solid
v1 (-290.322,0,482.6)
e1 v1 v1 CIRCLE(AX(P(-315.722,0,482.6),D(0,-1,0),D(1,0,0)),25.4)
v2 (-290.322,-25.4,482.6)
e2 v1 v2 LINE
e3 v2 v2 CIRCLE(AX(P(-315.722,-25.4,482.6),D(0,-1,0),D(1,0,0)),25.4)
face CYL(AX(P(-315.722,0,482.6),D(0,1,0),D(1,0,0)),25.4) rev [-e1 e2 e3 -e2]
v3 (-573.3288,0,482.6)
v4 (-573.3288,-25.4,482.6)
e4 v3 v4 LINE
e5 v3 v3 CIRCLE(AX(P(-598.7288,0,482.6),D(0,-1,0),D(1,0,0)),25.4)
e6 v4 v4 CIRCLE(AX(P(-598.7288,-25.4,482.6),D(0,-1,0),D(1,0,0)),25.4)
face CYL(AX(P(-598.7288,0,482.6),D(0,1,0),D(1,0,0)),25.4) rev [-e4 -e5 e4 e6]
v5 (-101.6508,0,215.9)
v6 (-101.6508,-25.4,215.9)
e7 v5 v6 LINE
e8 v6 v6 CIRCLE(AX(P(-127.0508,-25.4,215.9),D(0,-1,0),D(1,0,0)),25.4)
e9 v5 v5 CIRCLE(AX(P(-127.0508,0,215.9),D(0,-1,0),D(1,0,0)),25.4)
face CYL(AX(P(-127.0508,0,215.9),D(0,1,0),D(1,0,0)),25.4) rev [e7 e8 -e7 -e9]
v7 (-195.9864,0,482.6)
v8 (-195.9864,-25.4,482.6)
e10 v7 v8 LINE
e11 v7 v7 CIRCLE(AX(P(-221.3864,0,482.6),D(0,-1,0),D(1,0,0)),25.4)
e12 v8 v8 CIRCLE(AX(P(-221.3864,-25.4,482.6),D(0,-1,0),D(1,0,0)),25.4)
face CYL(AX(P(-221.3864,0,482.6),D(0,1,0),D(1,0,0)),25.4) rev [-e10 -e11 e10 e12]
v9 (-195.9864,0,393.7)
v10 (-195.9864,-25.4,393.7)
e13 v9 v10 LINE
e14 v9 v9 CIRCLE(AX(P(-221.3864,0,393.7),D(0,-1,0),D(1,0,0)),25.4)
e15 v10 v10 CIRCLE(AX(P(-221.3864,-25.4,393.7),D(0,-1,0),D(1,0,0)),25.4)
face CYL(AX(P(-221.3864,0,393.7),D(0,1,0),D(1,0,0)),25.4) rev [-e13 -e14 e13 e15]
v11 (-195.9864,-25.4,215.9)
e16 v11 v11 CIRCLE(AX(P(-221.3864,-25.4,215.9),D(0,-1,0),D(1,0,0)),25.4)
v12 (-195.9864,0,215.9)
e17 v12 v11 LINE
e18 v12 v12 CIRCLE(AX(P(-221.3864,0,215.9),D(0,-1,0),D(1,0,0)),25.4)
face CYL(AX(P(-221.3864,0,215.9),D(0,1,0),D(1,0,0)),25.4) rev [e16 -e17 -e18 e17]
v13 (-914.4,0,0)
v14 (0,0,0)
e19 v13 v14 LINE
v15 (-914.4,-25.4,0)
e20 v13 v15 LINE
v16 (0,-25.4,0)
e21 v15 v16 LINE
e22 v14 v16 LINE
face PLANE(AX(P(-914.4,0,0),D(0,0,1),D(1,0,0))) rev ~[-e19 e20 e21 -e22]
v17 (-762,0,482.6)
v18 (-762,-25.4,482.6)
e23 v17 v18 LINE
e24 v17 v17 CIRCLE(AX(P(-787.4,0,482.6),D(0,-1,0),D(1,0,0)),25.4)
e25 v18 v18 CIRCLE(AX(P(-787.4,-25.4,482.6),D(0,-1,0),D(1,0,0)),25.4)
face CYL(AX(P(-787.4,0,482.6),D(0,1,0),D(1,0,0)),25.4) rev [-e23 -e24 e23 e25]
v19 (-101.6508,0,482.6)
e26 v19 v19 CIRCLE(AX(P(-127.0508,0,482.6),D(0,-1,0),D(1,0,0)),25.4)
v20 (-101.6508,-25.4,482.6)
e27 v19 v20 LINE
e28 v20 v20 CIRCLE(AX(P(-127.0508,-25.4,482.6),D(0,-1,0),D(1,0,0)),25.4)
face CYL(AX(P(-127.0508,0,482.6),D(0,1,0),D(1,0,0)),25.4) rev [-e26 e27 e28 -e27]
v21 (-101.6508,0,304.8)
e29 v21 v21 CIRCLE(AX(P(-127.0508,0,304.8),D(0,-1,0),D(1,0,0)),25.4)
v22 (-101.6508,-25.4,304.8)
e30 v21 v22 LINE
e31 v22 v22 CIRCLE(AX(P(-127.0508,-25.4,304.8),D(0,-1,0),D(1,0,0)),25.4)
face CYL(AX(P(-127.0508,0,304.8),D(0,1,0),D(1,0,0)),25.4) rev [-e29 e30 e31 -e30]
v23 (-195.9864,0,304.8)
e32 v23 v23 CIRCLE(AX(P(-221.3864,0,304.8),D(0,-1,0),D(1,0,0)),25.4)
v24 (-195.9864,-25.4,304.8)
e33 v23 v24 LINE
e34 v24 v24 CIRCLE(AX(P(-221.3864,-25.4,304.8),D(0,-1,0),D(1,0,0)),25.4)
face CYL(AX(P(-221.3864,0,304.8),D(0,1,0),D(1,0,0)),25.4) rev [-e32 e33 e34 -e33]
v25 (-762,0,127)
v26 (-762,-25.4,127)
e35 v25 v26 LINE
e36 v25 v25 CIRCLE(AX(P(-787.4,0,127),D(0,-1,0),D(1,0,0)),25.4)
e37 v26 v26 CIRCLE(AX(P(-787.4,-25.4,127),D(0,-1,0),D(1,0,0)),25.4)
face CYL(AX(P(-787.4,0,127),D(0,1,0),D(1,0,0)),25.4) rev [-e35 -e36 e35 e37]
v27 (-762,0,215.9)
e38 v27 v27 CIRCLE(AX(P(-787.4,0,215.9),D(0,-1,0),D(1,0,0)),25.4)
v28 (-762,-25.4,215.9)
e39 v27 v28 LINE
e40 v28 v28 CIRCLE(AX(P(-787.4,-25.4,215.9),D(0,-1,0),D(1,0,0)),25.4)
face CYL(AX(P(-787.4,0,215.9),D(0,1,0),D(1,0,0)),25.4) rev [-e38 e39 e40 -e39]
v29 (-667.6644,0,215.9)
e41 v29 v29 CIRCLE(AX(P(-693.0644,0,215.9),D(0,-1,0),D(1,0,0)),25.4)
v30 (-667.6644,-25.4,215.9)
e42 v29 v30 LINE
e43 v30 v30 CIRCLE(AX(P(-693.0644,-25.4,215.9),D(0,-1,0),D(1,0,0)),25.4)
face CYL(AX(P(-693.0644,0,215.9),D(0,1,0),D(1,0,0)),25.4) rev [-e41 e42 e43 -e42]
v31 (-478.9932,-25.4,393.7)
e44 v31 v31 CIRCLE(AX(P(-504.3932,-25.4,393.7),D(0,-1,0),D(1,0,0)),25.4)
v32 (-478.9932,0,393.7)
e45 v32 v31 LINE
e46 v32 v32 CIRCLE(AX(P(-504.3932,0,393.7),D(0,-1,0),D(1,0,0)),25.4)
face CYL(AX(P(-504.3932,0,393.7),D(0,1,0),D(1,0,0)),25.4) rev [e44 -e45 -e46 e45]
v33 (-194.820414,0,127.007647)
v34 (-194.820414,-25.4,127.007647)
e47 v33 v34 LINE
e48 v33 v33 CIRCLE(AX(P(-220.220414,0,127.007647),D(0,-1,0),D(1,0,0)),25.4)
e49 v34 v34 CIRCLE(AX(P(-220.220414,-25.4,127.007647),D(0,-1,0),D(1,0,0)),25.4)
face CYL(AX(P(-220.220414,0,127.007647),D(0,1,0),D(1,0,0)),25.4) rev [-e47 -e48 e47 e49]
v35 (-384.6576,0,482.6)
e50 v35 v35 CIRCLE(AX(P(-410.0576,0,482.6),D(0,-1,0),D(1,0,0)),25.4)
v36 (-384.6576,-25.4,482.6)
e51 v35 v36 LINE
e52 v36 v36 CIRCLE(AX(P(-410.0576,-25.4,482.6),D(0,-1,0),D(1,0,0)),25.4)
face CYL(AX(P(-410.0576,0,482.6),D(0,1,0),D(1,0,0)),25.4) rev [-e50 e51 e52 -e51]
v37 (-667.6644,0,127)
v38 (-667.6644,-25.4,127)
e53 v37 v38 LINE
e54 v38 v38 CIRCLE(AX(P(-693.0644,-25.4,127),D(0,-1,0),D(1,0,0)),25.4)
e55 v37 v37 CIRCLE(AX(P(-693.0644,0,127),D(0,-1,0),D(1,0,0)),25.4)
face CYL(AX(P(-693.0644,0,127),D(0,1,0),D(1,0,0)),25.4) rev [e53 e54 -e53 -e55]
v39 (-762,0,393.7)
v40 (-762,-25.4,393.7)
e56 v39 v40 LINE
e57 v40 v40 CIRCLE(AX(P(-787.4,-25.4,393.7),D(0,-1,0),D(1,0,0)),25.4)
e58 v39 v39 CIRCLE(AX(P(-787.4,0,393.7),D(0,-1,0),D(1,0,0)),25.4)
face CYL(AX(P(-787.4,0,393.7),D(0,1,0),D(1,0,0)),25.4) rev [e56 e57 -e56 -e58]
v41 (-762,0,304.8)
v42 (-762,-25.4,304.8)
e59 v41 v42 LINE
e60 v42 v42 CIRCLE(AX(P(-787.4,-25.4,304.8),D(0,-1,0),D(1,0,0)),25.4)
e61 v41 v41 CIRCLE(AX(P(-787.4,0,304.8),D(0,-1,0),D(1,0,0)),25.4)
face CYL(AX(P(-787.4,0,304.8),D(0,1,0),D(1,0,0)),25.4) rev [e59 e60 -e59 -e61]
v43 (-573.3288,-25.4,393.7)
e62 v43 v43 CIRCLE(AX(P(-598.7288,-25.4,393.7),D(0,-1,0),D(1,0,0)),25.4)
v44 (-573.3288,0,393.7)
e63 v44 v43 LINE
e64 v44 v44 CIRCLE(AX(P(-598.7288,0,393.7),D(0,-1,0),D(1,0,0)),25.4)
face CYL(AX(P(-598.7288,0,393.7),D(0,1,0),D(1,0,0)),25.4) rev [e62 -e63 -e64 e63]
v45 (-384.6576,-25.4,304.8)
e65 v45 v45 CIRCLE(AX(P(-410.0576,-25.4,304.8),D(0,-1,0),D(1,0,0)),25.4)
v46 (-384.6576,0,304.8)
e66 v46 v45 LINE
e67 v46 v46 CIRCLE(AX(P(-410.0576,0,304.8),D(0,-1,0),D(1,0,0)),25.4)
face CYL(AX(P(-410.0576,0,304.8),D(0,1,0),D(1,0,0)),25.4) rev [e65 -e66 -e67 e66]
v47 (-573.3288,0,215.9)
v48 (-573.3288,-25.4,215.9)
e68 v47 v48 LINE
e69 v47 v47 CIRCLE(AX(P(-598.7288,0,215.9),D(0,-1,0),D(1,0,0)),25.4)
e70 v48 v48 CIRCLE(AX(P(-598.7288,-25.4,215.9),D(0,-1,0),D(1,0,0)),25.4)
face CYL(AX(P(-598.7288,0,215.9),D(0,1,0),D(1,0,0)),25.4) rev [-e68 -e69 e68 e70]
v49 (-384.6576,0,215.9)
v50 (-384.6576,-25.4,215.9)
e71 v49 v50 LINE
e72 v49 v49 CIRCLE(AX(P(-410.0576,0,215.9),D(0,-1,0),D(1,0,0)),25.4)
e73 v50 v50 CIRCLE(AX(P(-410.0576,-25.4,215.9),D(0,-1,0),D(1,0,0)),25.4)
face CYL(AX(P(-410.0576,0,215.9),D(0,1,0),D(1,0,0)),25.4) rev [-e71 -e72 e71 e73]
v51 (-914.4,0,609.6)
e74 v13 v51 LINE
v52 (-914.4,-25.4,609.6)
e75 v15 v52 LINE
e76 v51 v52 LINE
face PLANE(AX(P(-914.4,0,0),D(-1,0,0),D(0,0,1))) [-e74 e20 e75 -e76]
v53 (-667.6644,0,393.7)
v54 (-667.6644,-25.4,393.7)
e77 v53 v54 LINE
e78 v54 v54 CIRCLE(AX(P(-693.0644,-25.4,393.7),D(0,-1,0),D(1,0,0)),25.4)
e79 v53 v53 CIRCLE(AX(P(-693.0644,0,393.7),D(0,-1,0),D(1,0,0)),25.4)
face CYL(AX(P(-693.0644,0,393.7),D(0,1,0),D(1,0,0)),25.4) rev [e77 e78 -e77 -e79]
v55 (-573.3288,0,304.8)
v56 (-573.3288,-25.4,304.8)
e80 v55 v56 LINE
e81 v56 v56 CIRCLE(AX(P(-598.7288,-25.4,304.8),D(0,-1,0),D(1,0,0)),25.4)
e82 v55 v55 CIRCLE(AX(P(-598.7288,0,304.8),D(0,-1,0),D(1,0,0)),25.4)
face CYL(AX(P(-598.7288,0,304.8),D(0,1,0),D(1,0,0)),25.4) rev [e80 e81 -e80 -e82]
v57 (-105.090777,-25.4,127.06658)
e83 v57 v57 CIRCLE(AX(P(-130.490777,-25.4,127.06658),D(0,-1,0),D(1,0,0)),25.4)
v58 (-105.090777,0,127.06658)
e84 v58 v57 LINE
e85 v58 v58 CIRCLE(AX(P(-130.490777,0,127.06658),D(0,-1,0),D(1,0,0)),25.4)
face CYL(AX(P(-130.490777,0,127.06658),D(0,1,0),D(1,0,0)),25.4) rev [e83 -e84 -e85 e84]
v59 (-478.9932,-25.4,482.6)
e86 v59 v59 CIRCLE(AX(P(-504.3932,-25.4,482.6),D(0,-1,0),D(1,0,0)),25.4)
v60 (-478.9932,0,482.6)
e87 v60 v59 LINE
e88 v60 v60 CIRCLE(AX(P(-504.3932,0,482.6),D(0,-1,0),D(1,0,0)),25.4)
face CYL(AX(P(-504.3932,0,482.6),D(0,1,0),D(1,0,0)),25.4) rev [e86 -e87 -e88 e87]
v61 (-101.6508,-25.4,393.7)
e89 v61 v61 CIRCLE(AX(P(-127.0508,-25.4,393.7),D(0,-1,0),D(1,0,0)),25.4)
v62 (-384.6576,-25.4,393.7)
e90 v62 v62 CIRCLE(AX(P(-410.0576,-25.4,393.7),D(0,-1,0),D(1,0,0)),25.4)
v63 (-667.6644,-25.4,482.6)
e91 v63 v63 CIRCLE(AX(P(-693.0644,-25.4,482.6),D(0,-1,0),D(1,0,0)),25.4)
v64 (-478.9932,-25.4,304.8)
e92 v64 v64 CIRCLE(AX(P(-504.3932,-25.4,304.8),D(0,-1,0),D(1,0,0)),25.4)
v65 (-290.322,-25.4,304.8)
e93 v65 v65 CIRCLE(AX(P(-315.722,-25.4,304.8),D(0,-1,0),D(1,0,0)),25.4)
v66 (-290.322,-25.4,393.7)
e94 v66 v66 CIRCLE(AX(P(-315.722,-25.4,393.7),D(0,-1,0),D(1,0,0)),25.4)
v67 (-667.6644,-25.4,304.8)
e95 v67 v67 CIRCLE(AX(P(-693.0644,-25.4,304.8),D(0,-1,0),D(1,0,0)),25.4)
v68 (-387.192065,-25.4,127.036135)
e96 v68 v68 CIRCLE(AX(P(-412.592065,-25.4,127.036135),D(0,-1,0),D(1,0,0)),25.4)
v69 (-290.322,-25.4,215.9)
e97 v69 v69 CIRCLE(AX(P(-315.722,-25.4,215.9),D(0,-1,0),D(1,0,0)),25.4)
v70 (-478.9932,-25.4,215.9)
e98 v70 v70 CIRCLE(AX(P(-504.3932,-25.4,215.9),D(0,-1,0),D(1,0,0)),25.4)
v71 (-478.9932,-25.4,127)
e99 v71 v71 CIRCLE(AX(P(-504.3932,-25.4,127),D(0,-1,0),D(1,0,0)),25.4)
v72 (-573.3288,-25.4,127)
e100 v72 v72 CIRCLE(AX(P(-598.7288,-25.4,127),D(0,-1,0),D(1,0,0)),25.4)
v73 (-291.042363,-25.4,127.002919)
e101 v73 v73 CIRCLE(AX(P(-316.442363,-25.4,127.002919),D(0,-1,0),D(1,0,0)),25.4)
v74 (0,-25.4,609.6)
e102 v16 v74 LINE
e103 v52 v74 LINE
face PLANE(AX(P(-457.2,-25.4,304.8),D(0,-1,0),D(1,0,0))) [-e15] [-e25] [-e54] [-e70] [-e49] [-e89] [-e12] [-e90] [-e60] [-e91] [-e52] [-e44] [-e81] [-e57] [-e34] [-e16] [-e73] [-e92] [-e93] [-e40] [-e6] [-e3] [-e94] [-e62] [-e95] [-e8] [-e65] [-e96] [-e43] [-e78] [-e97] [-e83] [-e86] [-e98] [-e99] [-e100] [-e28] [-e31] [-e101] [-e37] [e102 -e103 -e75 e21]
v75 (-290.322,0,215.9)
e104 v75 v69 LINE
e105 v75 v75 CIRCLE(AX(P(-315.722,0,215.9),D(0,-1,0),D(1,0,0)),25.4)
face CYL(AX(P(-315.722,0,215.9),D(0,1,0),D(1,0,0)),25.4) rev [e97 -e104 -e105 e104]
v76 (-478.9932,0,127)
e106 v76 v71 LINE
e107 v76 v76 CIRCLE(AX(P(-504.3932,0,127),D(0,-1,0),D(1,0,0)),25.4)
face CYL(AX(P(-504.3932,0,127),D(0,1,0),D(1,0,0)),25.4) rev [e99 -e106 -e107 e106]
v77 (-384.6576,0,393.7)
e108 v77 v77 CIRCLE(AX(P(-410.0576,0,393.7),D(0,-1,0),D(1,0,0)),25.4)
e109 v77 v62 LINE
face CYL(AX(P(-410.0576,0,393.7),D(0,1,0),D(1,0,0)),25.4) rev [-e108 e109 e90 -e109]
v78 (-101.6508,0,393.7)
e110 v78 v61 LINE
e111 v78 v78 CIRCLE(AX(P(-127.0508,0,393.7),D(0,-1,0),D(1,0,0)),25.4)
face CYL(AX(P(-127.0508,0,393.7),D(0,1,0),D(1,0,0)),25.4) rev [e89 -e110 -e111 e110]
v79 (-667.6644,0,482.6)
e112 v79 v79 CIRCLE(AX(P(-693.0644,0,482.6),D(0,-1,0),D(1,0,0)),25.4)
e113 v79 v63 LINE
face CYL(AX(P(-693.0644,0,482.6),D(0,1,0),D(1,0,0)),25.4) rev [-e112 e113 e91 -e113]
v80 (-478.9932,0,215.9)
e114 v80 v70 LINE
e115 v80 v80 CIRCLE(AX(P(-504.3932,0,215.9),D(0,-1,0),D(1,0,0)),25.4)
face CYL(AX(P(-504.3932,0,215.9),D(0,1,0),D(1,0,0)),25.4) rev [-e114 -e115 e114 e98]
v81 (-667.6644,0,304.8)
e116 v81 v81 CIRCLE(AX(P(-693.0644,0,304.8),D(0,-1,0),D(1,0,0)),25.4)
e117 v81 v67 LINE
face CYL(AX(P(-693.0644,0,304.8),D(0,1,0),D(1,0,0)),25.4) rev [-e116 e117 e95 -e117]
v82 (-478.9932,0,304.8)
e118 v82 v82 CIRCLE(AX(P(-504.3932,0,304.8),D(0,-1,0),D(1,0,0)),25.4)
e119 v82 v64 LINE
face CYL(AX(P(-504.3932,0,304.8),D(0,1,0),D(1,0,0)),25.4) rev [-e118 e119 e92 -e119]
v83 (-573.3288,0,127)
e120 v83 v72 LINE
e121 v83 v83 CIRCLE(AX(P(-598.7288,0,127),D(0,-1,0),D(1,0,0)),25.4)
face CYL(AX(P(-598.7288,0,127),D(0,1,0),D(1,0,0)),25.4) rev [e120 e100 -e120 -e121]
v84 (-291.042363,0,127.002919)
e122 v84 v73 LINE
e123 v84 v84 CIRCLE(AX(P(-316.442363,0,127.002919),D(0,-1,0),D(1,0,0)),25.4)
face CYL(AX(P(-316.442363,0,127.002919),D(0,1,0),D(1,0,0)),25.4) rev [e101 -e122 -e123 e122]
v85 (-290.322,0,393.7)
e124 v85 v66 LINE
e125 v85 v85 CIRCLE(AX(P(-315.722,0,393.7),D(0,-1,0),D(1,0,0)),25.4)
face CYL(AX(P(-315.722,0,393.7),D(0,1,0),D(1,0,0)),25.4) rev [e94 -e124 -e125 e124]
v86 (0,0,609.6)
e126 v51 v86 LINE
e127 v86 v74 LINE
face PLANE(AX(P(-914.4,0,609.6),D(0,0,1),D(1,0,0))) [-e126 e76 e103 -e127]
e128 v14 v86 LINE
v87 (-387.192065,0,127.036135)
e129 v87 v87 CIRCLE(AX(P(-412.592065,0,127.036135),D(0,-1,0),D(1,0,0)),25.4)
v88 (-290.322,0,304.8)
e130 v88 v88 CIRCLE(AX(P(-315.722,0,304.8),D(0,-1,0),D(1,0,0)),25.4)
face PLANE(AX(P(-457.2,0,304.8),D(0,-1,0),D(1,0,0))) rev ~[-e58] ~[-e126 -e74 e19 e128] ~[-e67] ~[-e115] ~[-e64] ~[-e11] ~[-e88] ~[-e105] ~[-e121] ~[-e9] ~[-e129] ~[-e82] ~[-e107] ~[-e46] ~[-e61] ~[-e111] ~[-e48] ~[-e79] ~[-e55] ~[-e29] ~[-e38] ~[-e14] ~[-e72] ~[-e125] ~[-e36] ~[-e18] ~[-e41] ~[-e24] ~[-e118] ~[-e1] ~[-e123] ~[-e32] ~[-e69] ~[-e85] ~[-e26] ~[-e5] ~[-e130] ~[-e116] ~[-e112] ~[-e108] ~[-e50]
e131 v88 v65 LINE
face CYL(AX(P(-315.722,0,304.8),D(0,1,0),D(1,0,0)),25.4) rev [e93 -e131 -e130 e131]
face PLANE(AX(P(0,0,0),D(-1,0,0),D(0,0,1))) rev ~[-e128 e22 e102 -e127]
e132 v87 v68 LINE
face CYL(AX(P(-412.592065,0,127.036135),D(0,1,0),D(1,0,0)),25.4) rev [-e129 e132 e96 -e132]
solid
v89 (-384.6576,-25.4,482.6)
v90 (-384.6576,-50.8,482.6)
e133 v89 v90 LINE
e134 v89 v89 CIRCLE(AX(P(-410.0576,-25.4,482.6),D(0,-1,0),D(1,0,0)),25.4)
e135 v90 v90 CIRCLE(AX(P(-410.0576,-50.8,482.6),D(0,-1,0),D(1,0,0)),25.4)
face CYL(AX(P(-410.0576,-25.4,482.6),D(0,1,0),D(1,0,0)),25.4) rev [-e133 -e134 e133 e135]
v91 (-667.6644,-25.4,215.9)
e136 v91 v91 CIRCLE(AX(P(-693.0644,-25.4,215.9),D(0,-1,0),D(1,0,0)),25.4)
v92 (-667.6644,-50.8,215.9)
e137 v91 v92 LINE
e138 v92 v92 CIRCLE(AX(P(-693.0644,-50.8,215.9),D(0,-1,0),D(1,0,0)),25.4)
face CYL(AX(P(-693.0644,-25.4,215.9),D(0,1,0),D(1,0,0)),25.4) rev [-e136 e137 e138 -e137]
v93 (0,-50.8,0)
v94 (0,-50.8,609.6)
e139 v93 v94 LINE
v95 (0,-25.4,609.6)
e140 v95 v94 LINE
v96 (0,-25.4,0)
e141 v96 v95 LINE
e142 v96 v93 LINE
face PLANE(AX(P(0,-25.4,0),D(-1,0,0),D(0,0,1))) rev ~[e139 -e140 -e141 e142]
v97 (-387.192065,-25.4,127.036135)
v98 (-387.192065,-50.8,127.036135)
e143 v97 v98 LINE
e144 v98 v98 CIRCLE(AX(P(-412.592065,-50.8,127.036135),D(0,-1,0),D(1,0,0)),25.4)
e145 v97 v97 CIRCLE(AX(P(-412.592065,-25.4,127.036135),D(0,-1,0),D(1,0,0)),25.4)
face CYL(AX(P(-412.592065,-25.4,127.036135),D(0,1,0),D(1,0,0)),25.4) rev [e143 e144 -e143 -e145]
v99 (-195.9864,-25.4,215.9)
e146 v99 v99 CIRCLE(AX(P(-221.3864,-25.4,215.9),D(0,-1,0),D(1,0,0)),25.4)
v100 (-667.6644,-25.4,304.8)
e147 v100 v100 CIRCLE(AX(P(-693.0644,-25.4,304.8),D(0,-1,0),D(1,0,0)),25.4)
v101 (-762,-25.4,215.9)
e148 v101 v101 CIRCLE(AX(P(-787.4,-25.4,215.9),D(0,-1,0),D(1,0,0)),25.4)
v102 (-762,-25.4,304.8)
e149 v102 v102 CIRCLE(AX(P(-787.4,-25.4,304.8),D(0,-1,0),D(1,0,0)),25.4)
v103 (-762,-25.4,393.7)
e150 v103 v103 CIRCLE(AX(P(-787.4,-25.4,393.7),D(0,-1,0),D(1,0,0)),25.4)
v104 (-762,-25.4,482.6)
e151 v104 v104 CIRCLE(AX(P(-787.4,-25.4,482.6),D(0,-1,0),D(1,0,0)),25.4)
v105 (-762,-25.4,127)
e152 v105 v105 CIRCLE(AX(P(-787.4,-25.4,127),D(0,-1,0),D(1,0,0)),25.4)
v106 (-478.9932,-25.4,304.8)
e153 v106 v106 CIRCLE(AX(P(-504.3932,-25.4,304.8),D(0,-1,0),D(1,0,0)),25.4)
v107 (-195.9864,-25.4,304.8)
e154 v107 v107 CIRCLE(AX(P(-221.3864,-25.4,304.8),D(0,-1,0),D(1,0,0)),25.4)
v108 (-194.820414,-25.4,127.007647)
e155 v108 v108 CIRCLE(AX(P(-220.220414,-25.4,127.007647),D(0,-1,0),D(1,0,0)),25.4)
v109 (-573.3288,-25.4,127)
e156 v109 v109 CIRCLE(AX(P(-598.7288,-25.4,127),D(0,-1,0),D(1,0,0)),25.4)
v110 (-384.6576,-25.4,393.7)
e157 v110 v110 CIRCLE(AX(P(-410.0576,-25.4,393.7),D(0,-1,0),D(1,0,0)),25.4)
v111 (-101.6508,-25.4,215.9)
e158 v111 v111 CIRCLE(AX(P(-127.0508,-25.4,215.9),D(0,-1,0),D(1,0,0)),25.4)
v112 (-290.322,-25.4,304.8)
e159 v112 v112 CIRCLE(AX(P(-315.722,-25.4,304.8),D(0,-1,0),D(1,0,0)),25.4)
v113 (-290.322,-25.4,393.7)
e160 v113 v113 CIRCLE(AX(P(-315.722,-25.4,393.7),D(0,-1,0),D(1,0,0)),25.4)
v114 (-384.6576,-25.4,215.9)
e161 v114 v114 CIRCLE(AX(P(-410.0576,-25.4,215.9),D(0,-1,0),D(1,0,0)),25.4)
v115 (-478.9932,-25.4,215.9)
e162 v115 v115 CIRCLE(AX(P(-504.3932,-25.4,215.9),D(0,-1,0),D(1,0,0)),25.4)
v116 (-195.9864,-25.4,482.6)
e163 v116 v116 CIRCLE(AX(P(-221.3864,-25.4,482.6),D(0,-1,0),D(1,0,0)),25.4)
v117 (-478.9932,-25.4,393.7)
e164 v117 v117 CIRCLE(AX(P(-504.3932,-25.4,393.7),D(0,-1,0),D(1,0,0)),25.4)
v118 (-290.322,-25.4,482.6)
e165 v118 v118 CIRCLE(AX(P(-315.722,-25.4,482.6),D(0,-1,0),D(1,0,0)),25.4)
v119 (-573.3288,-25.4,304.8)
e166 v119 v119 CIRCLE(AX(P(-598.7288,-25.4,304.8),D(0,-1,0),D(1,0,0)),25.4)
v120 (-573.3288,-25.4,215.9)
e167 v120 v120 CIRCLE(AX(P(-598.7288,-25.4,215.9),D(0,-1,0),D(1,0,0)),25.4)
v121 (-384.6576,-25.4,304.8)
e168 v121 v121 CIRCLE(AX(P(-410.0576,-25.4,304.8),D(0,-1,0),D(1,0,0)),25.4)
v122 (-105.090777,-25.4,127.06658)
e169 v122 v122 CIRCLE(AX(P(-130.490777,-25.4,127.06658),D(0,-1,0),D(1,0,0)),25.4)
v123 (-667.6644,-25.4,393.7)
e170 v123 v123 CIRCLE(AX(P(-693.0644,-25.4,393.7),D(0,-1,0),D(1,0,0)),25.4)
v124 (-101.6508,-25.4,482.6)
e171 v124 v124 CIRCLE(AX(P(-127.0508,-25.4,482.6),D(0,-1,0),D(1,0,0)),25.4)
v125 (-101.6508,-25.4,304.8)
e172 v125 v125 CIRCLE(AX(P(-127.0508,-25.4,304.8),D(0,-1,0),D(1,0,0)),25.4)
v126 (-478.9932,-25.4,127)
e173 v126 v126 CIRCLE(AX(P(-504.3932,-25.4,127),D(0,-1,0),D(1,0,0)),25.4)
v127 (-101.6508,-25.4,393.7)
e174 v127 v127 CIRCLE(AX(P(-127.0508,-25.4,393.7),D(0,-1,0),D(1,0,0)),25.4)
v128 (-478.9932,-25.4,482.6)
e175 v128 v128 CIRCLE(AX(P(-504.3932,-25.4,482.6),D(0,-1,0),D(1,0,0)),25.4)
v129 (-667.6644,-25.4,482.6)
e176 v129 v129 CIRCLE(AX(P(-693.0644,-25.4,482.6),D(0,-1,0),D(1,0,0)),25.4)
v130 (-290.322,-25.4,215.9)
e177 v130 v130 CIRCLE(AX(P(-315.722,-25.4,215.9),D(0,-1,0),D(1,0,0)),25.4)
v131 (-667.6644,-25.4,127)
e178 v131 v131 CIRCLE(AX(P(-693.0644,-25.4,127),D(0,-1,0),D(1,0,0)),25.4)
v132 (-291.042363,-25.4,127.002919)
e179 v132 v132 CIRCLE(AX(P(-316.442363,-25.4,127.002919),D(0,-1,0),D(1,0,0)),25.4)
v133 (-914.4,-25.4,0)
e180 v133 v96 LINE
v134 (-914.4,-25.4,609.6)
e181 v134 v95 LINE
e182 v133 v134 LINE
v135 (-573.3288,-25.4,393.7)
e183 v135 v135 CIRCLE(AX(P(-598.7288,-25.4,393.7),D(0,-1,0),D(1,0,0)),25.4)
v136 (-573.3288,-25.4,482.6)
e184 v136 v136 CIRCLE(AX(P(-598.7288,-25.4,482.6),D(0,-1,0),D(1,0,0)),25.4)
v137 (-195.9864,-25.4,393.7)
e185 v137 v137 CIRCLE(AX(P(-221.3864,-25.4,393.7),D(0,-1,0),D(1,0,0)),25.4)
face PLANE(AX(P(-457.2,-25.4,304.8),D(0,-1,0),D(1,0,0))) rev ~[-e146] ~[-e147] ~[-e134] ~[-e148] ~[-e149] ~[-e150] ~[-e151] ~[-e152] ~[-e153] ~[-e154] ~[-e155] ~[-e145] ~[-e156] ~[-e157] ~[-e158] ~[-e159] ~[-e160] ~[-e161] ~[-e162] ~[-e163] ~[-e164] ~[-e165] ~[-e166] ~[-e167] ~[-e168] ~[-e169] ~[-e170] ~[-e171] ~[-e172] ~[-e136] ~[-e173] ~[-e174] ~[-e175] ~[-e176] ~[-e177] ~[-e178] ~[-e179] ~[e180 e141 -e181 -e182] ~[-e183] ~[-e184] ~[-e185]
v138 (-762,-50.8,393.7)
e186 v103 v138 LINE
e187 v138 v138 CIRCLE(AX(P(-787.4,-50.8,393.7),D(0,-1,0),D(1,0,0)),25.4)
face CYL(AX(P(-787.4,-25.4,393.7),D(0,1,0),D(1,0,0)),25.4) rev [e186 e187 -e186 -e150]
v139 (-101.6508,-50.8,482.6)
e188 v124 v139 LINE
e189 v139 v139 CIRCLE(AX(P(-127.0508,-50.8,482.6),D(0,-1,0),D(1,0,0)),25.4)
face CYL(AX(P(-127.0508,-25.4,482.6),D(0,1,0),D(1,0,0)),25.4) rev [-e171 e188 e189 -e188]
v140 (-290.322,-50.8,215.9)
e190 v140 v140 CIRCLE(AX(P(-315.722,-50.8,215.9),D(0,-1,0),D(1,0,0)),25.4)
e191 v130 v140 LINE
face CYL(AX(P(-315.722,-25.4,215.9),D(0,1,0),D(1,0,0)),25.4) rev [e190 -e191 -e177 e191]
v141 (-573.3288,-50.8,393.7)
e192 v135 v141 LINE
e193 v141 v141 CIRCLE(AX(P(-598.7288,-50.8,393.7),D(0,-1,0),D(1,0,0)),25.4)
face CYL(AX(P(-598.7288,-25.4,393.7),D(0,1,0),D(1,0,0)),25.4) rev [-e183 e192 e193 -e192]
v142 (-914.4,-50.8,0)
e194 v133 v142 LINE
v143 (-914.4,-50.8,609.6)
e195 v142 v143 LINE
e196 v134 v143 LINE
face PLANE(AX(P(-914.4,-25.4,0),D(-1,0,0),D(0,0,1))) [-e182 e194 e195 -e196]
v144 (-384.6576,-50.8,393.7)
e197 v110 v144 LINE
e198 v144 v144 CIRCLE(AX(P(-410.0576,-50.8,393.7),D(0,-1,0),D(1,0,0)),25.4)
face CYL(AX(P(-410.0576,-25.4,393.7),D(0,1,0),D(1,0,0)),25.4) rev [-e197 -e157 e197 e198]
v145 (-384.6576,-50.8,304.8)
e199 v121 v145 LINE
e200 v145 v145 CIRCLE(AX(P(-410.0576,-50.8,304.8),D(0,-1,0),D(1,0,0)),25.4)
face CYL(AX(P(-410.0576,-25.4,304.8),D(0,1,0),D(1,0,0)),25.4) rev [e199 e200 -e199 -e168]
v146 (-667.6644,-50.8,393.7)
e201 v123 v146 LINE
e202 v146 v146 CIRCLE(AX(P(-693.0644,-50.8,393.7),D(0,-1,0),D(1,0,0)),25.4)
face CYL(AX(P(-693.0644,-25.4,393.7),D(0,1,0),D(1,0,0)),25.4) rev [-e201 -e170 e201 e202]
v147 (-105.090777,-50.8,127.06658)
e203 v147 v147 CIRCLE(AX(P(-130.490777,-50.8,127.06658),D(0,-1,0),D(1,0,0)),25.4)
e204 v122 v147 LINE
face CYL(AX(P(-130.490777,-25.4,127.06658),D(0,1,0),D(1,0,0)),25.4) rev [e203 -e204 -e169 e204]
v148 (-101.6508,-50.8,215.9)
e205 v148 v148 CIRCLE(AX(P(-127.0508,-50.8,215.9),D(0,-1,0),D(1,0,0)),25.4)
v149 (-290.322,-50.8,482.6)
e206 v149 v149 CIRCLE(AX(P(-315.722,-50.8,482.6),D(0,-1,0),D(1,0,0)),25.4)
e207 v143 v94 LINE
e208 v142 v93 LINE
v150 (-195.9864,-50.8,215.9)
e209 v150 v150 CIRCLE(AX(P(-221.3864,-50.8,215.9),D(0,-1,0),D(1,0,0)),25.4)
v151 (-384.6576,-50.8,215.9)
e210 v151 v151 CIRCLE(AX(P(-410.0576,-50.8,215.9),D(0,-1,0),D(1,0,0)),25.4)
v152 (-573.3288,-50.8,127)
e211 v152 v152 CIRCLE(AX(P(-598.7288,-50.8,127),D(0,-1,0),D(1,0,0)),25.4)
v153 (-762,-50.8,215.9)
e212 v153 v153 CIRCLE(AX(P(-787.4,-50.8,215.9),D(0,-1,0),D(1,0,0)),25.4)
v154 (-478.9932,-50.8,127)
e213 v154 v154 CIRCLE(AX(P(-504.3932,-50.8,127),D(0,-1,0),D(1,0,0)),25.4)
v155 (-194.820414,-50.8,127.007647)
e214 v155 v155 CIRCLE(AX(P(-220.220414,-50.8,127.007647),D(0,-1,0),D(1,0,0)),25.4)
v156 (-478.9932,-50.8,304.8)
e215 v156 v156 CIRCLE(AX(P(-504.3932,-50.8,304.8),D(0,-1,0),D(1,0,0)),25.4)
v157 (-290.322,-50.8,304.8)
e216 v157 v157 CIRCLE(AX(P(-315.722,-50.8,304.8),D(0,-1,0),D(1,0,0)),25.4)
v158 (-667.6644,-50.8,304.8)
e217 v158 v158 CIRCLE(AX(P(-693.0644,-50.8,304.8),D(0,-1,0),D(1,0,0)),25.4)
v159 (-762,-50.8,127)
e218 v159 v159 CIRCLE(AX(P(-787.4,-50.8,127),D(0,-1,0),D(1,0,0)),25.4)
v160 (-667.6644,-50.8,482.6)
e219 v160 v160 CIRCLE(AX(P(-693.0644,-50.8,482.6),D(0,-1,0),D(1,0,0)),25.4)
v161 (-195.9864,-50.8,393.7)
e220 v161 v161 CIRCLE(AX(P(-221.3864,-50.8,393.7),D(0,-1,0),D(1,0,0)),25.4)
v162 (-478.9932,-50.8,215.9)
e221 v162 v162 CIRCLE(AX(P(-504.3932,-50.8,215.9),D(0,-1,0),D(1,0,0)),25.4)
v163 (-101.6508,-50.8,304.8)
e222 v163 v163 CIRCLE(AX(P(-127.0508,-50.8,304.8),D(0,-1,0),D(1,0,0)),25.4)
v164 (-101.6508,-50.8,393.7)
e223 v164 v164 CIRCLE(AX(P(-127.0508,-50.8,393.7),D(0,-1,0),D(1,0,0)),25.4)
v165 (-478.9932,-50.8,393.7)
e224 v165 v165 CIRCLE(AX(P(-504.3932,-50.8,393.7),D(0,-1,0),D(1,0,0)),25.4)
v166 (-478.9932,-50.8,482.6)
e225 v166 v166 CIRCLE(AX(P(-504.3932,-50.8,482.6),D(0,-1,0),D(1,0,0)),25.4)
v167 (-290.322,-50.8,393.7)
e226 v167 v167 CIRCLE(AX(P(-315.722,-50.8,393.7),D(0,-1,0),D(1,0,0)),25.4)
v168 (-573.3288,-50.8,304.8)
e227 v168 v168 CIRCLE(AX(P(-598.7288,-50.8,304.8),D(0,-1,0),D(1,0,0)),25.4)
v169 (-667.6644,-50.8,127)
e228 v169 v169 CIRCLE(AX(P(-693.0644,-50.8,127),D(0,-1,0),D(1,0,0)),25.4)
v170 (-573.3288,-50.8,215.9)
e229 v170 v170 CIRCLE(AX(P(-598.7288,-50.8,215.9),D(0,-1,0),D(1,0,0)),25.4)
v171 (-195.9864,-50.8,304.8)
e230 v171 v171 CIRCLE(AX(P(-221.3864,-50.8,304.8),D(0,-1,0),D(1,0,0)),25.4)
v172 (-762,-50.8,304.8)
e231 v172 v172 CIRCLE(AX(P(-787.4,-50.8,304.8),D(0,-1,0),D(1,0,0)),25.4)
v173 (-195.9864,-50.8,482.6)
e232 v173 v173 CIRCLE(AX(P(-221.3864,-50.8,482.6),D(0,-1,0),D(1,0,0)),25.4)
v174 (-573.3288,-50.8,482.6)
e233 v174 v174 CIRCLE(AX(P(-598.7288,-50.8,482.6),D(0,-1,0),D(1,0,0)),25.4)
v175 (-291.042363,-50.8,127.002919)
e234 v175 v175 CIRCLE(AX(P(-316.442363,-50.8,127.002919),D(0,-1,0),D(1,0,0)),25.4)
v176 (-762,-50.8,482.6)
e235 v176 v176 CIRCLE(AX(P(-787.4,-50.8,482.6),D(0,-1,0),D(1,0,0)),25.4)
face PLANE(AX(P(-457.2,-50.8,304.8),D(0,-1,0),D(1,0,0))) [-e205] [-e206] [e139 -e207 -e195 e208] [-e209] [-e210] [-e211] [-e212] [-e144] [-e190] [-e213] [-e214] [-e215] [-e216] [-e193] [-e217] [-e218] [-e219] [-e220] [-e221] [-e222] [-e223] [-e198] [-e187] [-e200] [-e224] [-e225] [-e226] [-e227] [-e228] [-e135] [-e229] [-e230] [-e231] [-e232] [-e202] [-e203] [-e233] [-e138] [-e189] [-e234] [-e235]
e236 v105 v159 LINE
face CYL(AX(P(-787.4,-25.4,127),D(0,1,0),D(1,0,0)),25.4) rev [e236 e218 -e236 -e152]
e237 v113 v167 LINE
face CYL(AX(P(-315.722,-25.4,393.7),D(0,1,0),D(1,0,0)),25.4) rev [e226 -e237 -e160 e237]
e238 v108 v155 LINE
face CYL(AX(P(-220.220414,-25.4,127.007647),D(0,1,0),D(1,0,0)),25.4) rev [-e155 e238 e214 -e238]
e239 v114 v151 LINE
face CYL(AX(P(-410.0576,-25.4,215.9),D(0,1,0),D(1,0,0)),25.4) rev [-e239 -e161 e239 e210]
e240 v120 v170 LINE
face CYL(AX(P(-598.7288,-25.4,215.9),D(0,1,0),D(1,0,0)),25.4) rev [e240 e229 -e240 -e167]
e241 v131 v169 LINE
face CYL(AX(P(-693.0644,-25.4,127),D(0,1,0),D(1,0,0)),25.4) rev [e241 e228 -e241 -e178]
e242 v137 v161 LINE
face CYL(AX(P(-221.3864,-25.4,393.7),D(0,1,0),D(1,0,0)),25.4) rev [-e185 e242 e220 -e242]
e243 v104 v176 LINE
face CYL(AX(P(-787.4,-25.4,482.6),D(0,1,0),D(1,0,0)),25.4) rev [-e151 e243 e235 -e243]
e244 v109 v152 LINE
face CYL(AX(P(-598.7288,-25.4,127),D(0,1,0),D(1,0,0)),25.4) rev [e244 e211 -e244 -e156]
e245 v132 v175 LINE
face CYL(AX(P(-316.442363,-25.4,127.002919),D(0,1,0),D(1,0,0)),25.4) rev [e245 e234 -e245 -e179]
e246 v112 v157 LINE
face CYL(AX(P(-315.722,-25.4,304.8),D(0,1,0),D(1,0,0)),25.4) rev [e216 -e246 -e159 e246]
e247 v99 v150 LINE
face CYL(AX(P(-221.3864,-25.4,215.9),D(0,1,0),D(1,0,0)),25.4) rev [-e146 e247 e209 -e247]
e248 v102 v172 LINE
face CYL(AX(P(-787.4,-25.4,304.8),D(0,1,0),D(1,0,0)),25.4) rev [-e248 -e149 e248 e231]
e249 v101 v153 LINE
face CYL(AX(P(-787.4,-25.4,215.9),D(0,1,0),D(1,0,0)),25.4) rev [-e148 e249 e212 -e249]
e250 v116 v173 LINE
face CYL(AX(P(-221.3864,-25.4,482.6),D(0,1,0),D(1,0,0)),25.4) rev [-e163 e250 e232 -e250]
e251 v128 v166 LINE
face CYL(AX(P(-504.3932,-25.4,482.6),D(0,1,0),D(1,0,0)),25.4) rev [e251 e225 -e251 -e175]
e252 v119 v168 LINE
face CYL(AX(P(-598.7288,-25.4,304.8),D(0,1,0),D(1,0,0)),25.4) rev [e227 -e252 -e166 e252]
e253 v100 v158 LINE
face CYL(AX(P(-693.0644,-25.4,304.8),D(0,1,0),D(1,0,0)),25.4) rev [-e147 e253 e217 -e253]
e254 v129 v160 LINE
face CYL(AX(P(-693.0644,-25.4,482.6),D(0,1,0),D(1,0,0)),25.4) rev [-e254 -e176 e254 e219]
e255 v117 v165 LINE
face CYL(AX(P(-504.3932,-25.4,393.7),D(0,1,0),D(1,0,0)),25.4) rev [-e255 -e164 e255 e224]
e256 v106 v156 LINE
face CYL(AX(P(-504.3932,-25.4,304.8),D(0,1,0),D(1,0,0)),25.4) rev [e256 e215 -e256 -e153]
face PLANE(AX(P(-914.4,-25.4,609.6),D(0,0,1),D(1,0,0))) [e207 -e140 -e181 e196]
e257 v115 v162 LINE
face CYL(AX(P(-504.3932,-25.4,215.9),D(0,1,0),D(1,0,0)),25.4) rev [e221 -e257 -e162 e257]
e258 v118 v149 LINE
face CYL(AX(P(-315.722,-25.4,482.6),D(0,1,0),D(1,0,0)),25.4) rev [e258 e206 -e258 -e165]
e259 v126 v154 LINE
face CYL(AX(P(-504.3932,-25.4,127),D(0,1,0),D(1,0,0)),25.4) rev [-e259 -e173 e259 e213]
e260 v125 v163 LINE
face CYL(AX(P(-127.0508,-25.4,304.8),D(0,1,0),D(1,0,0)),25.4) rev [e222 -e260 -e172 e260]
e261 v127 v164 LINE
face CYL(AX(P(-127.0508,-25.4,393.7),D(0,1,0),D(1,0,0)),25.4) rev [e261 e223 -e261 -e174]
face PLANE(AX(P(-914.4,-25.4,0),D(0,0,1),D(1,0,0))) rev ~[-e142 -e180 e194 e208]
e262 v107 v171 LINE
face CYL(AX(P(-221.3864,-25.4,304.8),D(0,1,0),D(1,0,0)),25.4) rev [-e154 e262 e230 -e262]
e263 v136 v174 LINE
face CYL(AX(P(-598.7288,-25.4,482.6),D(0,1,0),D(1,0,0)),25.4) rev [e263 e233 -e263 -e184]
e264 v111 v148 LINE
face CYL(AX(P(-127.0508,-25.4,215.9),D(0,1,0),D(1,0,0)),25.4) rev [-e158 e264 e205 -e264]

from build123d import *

# Parameters (mm, degrees)
F0_W     = 914.4
F0_H     = 609.6
F0_R     = 25.4
F1_DEPTH = 25.4
F2_DEPTH = 25.4


with BuildPart() as f1:
    # F0 (on Front) → F1 (new body)
    with BuildSketch(Plane.XZ):
        with Locations((-457.2, 304.8)):
            Rectangle(F0_W, F0_H)
        with Locations((-787.4, 127)):
            Circle(F0_R, mode=Mode.SUBTRACT)
        with Locations((-693.0644, 127)):
            Circle(F0_R, mode=Mode.SUBTRACT)
        with Locations((-598.7288, 127)):
            Circle(F0_R, mode=Mode.SUBTRACT)
        with Locations((-504.3932, 127)):
            Circle(F0_R, mode=Mode.SUBTRACT)
        with Locations((-787.4, 215.9)):
            Circle(F0_R, mode=Mode.SUBTRACT)
        with Locations((-693.0644, 215.9)):
            Circle(F0_R, mode=Mode.SUBTRACT)
        with Locations((-598.7288, 215.9)):
            Circle(F0_R, mode=Mode.SUBTRACT)
        with Locations((-504.3932, 215.9)):
            Circle(F0_R, mode=Mode.SUBTRACT)
        with Locations((-412.5920654803, 127.0361351013)):
            Circle(F0_R, mode=Mode.SUBTRACT)
        with Locations((-316.4423632889, 127.0029186265)):
            Circle(F0_R, mode=Mode.SUBTRACT)
        with Locations((-220.2204141435, 127.00764669)):
            Circle(F0_R, mode=Mode.SUBTRACT)
        with Locations((-130.490777151, 127.0665797281)):
            Circle(F0_R, mode=Mode.SUBTRACT)
        with Locations((-410.0576, 215.9)):
            Circle(F0_R, mode=Mode.SUBTRACT)
        with Locations((-315.722, 215.9)):
            Circle(F0_R, mode=Mode.SUBTRACT)
        with Locations((-221.3864, 215.9)):
            Circle(F0_R, mode=Mode.SUBTRACT)
        with Locations((-127.0508, 215.9)):
            Circle(F0_R, mode=Mode.SUBTRACT)
        with Locations((-787.4, 304.8)):
            Circle(F0_R, mode=Mode.SUBTRACT)
        with Locations((-693.0644, 304.8)):
            Circle(F0_R, mode=Mode.SUBTRACT)
        with Locations((-787.4, 393.7)):
            Circle(F0_R, mode=Mode.SUBTRACT)
        with Locations((-693.0644, 393.7)):
            Circle(F0_R, mode=Mode.SUBTRACT)
        with Locations((-598.7288, 304.8)):
            Circle(F0_R, mode=Mode.SUBTRACT)
        with Locations((-504.3932, 304.8)):
            Circle(F0_R, mode=Mode.SUBTRACT)
        with Locations((-598.7288, 393.7)):
            Circle(F0_R, mode=Mode.SUBTRACT)
        with Locations((-504.3932, 393.7)):
            Circle(F0_R, mode=Mode.SUBTRACT)
        with Locations((-787.4, 482.6)):
            Circle(F0_R, mode=Mode.SUBTRACT)
        with Locations((-693.0644, 482.6)):
            Circle(F0_R, mode=Mode.SUBTRACT)
        with Locations((-598.7288, 482.6)):
            Circle(F0_R, mode=Mode.SUBTRACT)
        with Locations((-504.3932, 482.6)):
            Circle(F0_R, mode=Mode.SUBTRACT)
        with Locations((-410.0576, 304.8)):
            Circle(F0_R, mode=Mode.SUBTRACT)
        with Locations((-315.722, 304.8)):
            Circle(F0_R, mode=Mode.SUBTRACT)
        with Locations((-410.0576, 393.7)):
            Circle(F0_R, mode=Mode.SUBTRACT)
        with Locations((-315.722, 393.7)):
            Circle(F0_R, mode=Mode.SUBTRACT)
        with Locations((-221.3864, 304.8)):
            Circle(F0_R, mode=Mode.SUBTRACT)
        with Locations((-127.0508, 304.8)):
            Circle(F0_R, mode=Mode.SUBTRACT)
        with Locations((-221.3864, 393.7)):
            Circle(F0_R, mode=Mode.SUBTRACT)
        with Locations((-127.0508, 393.7)):
            Circle(F0_R, mode=Mode.SUBTRACT)
        with Locations((-410.0576, 482.6)):
            Circle(F0_R, mode=Mode.SUBTRACT)
        with Locations((-315.722, 482.6)):
            Circle(F0_R, mode=Mode.SUBTRACT)
        with Locations((-221.3864, 482.6)):
            Circle(F0_R, mode=Mode.SUBTRACT)
        with Locations((-127.0508, 482.6)):
            Circle(F0_R, mode=Mode.SUBTRACT)
    extrude(amount=F1_DEPTH)


with BuildPart() as f2:
    # F2 (new): a face of the model
    f2_faces = [f1.part.faces().sort_by_distance(p)[0] for p in [
        (-457.1721520413, -25.4, 304.7995179973),
    ]]
    extrude(f2_faces, amount=F2_DEPTH)


solid = Compound([f1.part, f2.part])
